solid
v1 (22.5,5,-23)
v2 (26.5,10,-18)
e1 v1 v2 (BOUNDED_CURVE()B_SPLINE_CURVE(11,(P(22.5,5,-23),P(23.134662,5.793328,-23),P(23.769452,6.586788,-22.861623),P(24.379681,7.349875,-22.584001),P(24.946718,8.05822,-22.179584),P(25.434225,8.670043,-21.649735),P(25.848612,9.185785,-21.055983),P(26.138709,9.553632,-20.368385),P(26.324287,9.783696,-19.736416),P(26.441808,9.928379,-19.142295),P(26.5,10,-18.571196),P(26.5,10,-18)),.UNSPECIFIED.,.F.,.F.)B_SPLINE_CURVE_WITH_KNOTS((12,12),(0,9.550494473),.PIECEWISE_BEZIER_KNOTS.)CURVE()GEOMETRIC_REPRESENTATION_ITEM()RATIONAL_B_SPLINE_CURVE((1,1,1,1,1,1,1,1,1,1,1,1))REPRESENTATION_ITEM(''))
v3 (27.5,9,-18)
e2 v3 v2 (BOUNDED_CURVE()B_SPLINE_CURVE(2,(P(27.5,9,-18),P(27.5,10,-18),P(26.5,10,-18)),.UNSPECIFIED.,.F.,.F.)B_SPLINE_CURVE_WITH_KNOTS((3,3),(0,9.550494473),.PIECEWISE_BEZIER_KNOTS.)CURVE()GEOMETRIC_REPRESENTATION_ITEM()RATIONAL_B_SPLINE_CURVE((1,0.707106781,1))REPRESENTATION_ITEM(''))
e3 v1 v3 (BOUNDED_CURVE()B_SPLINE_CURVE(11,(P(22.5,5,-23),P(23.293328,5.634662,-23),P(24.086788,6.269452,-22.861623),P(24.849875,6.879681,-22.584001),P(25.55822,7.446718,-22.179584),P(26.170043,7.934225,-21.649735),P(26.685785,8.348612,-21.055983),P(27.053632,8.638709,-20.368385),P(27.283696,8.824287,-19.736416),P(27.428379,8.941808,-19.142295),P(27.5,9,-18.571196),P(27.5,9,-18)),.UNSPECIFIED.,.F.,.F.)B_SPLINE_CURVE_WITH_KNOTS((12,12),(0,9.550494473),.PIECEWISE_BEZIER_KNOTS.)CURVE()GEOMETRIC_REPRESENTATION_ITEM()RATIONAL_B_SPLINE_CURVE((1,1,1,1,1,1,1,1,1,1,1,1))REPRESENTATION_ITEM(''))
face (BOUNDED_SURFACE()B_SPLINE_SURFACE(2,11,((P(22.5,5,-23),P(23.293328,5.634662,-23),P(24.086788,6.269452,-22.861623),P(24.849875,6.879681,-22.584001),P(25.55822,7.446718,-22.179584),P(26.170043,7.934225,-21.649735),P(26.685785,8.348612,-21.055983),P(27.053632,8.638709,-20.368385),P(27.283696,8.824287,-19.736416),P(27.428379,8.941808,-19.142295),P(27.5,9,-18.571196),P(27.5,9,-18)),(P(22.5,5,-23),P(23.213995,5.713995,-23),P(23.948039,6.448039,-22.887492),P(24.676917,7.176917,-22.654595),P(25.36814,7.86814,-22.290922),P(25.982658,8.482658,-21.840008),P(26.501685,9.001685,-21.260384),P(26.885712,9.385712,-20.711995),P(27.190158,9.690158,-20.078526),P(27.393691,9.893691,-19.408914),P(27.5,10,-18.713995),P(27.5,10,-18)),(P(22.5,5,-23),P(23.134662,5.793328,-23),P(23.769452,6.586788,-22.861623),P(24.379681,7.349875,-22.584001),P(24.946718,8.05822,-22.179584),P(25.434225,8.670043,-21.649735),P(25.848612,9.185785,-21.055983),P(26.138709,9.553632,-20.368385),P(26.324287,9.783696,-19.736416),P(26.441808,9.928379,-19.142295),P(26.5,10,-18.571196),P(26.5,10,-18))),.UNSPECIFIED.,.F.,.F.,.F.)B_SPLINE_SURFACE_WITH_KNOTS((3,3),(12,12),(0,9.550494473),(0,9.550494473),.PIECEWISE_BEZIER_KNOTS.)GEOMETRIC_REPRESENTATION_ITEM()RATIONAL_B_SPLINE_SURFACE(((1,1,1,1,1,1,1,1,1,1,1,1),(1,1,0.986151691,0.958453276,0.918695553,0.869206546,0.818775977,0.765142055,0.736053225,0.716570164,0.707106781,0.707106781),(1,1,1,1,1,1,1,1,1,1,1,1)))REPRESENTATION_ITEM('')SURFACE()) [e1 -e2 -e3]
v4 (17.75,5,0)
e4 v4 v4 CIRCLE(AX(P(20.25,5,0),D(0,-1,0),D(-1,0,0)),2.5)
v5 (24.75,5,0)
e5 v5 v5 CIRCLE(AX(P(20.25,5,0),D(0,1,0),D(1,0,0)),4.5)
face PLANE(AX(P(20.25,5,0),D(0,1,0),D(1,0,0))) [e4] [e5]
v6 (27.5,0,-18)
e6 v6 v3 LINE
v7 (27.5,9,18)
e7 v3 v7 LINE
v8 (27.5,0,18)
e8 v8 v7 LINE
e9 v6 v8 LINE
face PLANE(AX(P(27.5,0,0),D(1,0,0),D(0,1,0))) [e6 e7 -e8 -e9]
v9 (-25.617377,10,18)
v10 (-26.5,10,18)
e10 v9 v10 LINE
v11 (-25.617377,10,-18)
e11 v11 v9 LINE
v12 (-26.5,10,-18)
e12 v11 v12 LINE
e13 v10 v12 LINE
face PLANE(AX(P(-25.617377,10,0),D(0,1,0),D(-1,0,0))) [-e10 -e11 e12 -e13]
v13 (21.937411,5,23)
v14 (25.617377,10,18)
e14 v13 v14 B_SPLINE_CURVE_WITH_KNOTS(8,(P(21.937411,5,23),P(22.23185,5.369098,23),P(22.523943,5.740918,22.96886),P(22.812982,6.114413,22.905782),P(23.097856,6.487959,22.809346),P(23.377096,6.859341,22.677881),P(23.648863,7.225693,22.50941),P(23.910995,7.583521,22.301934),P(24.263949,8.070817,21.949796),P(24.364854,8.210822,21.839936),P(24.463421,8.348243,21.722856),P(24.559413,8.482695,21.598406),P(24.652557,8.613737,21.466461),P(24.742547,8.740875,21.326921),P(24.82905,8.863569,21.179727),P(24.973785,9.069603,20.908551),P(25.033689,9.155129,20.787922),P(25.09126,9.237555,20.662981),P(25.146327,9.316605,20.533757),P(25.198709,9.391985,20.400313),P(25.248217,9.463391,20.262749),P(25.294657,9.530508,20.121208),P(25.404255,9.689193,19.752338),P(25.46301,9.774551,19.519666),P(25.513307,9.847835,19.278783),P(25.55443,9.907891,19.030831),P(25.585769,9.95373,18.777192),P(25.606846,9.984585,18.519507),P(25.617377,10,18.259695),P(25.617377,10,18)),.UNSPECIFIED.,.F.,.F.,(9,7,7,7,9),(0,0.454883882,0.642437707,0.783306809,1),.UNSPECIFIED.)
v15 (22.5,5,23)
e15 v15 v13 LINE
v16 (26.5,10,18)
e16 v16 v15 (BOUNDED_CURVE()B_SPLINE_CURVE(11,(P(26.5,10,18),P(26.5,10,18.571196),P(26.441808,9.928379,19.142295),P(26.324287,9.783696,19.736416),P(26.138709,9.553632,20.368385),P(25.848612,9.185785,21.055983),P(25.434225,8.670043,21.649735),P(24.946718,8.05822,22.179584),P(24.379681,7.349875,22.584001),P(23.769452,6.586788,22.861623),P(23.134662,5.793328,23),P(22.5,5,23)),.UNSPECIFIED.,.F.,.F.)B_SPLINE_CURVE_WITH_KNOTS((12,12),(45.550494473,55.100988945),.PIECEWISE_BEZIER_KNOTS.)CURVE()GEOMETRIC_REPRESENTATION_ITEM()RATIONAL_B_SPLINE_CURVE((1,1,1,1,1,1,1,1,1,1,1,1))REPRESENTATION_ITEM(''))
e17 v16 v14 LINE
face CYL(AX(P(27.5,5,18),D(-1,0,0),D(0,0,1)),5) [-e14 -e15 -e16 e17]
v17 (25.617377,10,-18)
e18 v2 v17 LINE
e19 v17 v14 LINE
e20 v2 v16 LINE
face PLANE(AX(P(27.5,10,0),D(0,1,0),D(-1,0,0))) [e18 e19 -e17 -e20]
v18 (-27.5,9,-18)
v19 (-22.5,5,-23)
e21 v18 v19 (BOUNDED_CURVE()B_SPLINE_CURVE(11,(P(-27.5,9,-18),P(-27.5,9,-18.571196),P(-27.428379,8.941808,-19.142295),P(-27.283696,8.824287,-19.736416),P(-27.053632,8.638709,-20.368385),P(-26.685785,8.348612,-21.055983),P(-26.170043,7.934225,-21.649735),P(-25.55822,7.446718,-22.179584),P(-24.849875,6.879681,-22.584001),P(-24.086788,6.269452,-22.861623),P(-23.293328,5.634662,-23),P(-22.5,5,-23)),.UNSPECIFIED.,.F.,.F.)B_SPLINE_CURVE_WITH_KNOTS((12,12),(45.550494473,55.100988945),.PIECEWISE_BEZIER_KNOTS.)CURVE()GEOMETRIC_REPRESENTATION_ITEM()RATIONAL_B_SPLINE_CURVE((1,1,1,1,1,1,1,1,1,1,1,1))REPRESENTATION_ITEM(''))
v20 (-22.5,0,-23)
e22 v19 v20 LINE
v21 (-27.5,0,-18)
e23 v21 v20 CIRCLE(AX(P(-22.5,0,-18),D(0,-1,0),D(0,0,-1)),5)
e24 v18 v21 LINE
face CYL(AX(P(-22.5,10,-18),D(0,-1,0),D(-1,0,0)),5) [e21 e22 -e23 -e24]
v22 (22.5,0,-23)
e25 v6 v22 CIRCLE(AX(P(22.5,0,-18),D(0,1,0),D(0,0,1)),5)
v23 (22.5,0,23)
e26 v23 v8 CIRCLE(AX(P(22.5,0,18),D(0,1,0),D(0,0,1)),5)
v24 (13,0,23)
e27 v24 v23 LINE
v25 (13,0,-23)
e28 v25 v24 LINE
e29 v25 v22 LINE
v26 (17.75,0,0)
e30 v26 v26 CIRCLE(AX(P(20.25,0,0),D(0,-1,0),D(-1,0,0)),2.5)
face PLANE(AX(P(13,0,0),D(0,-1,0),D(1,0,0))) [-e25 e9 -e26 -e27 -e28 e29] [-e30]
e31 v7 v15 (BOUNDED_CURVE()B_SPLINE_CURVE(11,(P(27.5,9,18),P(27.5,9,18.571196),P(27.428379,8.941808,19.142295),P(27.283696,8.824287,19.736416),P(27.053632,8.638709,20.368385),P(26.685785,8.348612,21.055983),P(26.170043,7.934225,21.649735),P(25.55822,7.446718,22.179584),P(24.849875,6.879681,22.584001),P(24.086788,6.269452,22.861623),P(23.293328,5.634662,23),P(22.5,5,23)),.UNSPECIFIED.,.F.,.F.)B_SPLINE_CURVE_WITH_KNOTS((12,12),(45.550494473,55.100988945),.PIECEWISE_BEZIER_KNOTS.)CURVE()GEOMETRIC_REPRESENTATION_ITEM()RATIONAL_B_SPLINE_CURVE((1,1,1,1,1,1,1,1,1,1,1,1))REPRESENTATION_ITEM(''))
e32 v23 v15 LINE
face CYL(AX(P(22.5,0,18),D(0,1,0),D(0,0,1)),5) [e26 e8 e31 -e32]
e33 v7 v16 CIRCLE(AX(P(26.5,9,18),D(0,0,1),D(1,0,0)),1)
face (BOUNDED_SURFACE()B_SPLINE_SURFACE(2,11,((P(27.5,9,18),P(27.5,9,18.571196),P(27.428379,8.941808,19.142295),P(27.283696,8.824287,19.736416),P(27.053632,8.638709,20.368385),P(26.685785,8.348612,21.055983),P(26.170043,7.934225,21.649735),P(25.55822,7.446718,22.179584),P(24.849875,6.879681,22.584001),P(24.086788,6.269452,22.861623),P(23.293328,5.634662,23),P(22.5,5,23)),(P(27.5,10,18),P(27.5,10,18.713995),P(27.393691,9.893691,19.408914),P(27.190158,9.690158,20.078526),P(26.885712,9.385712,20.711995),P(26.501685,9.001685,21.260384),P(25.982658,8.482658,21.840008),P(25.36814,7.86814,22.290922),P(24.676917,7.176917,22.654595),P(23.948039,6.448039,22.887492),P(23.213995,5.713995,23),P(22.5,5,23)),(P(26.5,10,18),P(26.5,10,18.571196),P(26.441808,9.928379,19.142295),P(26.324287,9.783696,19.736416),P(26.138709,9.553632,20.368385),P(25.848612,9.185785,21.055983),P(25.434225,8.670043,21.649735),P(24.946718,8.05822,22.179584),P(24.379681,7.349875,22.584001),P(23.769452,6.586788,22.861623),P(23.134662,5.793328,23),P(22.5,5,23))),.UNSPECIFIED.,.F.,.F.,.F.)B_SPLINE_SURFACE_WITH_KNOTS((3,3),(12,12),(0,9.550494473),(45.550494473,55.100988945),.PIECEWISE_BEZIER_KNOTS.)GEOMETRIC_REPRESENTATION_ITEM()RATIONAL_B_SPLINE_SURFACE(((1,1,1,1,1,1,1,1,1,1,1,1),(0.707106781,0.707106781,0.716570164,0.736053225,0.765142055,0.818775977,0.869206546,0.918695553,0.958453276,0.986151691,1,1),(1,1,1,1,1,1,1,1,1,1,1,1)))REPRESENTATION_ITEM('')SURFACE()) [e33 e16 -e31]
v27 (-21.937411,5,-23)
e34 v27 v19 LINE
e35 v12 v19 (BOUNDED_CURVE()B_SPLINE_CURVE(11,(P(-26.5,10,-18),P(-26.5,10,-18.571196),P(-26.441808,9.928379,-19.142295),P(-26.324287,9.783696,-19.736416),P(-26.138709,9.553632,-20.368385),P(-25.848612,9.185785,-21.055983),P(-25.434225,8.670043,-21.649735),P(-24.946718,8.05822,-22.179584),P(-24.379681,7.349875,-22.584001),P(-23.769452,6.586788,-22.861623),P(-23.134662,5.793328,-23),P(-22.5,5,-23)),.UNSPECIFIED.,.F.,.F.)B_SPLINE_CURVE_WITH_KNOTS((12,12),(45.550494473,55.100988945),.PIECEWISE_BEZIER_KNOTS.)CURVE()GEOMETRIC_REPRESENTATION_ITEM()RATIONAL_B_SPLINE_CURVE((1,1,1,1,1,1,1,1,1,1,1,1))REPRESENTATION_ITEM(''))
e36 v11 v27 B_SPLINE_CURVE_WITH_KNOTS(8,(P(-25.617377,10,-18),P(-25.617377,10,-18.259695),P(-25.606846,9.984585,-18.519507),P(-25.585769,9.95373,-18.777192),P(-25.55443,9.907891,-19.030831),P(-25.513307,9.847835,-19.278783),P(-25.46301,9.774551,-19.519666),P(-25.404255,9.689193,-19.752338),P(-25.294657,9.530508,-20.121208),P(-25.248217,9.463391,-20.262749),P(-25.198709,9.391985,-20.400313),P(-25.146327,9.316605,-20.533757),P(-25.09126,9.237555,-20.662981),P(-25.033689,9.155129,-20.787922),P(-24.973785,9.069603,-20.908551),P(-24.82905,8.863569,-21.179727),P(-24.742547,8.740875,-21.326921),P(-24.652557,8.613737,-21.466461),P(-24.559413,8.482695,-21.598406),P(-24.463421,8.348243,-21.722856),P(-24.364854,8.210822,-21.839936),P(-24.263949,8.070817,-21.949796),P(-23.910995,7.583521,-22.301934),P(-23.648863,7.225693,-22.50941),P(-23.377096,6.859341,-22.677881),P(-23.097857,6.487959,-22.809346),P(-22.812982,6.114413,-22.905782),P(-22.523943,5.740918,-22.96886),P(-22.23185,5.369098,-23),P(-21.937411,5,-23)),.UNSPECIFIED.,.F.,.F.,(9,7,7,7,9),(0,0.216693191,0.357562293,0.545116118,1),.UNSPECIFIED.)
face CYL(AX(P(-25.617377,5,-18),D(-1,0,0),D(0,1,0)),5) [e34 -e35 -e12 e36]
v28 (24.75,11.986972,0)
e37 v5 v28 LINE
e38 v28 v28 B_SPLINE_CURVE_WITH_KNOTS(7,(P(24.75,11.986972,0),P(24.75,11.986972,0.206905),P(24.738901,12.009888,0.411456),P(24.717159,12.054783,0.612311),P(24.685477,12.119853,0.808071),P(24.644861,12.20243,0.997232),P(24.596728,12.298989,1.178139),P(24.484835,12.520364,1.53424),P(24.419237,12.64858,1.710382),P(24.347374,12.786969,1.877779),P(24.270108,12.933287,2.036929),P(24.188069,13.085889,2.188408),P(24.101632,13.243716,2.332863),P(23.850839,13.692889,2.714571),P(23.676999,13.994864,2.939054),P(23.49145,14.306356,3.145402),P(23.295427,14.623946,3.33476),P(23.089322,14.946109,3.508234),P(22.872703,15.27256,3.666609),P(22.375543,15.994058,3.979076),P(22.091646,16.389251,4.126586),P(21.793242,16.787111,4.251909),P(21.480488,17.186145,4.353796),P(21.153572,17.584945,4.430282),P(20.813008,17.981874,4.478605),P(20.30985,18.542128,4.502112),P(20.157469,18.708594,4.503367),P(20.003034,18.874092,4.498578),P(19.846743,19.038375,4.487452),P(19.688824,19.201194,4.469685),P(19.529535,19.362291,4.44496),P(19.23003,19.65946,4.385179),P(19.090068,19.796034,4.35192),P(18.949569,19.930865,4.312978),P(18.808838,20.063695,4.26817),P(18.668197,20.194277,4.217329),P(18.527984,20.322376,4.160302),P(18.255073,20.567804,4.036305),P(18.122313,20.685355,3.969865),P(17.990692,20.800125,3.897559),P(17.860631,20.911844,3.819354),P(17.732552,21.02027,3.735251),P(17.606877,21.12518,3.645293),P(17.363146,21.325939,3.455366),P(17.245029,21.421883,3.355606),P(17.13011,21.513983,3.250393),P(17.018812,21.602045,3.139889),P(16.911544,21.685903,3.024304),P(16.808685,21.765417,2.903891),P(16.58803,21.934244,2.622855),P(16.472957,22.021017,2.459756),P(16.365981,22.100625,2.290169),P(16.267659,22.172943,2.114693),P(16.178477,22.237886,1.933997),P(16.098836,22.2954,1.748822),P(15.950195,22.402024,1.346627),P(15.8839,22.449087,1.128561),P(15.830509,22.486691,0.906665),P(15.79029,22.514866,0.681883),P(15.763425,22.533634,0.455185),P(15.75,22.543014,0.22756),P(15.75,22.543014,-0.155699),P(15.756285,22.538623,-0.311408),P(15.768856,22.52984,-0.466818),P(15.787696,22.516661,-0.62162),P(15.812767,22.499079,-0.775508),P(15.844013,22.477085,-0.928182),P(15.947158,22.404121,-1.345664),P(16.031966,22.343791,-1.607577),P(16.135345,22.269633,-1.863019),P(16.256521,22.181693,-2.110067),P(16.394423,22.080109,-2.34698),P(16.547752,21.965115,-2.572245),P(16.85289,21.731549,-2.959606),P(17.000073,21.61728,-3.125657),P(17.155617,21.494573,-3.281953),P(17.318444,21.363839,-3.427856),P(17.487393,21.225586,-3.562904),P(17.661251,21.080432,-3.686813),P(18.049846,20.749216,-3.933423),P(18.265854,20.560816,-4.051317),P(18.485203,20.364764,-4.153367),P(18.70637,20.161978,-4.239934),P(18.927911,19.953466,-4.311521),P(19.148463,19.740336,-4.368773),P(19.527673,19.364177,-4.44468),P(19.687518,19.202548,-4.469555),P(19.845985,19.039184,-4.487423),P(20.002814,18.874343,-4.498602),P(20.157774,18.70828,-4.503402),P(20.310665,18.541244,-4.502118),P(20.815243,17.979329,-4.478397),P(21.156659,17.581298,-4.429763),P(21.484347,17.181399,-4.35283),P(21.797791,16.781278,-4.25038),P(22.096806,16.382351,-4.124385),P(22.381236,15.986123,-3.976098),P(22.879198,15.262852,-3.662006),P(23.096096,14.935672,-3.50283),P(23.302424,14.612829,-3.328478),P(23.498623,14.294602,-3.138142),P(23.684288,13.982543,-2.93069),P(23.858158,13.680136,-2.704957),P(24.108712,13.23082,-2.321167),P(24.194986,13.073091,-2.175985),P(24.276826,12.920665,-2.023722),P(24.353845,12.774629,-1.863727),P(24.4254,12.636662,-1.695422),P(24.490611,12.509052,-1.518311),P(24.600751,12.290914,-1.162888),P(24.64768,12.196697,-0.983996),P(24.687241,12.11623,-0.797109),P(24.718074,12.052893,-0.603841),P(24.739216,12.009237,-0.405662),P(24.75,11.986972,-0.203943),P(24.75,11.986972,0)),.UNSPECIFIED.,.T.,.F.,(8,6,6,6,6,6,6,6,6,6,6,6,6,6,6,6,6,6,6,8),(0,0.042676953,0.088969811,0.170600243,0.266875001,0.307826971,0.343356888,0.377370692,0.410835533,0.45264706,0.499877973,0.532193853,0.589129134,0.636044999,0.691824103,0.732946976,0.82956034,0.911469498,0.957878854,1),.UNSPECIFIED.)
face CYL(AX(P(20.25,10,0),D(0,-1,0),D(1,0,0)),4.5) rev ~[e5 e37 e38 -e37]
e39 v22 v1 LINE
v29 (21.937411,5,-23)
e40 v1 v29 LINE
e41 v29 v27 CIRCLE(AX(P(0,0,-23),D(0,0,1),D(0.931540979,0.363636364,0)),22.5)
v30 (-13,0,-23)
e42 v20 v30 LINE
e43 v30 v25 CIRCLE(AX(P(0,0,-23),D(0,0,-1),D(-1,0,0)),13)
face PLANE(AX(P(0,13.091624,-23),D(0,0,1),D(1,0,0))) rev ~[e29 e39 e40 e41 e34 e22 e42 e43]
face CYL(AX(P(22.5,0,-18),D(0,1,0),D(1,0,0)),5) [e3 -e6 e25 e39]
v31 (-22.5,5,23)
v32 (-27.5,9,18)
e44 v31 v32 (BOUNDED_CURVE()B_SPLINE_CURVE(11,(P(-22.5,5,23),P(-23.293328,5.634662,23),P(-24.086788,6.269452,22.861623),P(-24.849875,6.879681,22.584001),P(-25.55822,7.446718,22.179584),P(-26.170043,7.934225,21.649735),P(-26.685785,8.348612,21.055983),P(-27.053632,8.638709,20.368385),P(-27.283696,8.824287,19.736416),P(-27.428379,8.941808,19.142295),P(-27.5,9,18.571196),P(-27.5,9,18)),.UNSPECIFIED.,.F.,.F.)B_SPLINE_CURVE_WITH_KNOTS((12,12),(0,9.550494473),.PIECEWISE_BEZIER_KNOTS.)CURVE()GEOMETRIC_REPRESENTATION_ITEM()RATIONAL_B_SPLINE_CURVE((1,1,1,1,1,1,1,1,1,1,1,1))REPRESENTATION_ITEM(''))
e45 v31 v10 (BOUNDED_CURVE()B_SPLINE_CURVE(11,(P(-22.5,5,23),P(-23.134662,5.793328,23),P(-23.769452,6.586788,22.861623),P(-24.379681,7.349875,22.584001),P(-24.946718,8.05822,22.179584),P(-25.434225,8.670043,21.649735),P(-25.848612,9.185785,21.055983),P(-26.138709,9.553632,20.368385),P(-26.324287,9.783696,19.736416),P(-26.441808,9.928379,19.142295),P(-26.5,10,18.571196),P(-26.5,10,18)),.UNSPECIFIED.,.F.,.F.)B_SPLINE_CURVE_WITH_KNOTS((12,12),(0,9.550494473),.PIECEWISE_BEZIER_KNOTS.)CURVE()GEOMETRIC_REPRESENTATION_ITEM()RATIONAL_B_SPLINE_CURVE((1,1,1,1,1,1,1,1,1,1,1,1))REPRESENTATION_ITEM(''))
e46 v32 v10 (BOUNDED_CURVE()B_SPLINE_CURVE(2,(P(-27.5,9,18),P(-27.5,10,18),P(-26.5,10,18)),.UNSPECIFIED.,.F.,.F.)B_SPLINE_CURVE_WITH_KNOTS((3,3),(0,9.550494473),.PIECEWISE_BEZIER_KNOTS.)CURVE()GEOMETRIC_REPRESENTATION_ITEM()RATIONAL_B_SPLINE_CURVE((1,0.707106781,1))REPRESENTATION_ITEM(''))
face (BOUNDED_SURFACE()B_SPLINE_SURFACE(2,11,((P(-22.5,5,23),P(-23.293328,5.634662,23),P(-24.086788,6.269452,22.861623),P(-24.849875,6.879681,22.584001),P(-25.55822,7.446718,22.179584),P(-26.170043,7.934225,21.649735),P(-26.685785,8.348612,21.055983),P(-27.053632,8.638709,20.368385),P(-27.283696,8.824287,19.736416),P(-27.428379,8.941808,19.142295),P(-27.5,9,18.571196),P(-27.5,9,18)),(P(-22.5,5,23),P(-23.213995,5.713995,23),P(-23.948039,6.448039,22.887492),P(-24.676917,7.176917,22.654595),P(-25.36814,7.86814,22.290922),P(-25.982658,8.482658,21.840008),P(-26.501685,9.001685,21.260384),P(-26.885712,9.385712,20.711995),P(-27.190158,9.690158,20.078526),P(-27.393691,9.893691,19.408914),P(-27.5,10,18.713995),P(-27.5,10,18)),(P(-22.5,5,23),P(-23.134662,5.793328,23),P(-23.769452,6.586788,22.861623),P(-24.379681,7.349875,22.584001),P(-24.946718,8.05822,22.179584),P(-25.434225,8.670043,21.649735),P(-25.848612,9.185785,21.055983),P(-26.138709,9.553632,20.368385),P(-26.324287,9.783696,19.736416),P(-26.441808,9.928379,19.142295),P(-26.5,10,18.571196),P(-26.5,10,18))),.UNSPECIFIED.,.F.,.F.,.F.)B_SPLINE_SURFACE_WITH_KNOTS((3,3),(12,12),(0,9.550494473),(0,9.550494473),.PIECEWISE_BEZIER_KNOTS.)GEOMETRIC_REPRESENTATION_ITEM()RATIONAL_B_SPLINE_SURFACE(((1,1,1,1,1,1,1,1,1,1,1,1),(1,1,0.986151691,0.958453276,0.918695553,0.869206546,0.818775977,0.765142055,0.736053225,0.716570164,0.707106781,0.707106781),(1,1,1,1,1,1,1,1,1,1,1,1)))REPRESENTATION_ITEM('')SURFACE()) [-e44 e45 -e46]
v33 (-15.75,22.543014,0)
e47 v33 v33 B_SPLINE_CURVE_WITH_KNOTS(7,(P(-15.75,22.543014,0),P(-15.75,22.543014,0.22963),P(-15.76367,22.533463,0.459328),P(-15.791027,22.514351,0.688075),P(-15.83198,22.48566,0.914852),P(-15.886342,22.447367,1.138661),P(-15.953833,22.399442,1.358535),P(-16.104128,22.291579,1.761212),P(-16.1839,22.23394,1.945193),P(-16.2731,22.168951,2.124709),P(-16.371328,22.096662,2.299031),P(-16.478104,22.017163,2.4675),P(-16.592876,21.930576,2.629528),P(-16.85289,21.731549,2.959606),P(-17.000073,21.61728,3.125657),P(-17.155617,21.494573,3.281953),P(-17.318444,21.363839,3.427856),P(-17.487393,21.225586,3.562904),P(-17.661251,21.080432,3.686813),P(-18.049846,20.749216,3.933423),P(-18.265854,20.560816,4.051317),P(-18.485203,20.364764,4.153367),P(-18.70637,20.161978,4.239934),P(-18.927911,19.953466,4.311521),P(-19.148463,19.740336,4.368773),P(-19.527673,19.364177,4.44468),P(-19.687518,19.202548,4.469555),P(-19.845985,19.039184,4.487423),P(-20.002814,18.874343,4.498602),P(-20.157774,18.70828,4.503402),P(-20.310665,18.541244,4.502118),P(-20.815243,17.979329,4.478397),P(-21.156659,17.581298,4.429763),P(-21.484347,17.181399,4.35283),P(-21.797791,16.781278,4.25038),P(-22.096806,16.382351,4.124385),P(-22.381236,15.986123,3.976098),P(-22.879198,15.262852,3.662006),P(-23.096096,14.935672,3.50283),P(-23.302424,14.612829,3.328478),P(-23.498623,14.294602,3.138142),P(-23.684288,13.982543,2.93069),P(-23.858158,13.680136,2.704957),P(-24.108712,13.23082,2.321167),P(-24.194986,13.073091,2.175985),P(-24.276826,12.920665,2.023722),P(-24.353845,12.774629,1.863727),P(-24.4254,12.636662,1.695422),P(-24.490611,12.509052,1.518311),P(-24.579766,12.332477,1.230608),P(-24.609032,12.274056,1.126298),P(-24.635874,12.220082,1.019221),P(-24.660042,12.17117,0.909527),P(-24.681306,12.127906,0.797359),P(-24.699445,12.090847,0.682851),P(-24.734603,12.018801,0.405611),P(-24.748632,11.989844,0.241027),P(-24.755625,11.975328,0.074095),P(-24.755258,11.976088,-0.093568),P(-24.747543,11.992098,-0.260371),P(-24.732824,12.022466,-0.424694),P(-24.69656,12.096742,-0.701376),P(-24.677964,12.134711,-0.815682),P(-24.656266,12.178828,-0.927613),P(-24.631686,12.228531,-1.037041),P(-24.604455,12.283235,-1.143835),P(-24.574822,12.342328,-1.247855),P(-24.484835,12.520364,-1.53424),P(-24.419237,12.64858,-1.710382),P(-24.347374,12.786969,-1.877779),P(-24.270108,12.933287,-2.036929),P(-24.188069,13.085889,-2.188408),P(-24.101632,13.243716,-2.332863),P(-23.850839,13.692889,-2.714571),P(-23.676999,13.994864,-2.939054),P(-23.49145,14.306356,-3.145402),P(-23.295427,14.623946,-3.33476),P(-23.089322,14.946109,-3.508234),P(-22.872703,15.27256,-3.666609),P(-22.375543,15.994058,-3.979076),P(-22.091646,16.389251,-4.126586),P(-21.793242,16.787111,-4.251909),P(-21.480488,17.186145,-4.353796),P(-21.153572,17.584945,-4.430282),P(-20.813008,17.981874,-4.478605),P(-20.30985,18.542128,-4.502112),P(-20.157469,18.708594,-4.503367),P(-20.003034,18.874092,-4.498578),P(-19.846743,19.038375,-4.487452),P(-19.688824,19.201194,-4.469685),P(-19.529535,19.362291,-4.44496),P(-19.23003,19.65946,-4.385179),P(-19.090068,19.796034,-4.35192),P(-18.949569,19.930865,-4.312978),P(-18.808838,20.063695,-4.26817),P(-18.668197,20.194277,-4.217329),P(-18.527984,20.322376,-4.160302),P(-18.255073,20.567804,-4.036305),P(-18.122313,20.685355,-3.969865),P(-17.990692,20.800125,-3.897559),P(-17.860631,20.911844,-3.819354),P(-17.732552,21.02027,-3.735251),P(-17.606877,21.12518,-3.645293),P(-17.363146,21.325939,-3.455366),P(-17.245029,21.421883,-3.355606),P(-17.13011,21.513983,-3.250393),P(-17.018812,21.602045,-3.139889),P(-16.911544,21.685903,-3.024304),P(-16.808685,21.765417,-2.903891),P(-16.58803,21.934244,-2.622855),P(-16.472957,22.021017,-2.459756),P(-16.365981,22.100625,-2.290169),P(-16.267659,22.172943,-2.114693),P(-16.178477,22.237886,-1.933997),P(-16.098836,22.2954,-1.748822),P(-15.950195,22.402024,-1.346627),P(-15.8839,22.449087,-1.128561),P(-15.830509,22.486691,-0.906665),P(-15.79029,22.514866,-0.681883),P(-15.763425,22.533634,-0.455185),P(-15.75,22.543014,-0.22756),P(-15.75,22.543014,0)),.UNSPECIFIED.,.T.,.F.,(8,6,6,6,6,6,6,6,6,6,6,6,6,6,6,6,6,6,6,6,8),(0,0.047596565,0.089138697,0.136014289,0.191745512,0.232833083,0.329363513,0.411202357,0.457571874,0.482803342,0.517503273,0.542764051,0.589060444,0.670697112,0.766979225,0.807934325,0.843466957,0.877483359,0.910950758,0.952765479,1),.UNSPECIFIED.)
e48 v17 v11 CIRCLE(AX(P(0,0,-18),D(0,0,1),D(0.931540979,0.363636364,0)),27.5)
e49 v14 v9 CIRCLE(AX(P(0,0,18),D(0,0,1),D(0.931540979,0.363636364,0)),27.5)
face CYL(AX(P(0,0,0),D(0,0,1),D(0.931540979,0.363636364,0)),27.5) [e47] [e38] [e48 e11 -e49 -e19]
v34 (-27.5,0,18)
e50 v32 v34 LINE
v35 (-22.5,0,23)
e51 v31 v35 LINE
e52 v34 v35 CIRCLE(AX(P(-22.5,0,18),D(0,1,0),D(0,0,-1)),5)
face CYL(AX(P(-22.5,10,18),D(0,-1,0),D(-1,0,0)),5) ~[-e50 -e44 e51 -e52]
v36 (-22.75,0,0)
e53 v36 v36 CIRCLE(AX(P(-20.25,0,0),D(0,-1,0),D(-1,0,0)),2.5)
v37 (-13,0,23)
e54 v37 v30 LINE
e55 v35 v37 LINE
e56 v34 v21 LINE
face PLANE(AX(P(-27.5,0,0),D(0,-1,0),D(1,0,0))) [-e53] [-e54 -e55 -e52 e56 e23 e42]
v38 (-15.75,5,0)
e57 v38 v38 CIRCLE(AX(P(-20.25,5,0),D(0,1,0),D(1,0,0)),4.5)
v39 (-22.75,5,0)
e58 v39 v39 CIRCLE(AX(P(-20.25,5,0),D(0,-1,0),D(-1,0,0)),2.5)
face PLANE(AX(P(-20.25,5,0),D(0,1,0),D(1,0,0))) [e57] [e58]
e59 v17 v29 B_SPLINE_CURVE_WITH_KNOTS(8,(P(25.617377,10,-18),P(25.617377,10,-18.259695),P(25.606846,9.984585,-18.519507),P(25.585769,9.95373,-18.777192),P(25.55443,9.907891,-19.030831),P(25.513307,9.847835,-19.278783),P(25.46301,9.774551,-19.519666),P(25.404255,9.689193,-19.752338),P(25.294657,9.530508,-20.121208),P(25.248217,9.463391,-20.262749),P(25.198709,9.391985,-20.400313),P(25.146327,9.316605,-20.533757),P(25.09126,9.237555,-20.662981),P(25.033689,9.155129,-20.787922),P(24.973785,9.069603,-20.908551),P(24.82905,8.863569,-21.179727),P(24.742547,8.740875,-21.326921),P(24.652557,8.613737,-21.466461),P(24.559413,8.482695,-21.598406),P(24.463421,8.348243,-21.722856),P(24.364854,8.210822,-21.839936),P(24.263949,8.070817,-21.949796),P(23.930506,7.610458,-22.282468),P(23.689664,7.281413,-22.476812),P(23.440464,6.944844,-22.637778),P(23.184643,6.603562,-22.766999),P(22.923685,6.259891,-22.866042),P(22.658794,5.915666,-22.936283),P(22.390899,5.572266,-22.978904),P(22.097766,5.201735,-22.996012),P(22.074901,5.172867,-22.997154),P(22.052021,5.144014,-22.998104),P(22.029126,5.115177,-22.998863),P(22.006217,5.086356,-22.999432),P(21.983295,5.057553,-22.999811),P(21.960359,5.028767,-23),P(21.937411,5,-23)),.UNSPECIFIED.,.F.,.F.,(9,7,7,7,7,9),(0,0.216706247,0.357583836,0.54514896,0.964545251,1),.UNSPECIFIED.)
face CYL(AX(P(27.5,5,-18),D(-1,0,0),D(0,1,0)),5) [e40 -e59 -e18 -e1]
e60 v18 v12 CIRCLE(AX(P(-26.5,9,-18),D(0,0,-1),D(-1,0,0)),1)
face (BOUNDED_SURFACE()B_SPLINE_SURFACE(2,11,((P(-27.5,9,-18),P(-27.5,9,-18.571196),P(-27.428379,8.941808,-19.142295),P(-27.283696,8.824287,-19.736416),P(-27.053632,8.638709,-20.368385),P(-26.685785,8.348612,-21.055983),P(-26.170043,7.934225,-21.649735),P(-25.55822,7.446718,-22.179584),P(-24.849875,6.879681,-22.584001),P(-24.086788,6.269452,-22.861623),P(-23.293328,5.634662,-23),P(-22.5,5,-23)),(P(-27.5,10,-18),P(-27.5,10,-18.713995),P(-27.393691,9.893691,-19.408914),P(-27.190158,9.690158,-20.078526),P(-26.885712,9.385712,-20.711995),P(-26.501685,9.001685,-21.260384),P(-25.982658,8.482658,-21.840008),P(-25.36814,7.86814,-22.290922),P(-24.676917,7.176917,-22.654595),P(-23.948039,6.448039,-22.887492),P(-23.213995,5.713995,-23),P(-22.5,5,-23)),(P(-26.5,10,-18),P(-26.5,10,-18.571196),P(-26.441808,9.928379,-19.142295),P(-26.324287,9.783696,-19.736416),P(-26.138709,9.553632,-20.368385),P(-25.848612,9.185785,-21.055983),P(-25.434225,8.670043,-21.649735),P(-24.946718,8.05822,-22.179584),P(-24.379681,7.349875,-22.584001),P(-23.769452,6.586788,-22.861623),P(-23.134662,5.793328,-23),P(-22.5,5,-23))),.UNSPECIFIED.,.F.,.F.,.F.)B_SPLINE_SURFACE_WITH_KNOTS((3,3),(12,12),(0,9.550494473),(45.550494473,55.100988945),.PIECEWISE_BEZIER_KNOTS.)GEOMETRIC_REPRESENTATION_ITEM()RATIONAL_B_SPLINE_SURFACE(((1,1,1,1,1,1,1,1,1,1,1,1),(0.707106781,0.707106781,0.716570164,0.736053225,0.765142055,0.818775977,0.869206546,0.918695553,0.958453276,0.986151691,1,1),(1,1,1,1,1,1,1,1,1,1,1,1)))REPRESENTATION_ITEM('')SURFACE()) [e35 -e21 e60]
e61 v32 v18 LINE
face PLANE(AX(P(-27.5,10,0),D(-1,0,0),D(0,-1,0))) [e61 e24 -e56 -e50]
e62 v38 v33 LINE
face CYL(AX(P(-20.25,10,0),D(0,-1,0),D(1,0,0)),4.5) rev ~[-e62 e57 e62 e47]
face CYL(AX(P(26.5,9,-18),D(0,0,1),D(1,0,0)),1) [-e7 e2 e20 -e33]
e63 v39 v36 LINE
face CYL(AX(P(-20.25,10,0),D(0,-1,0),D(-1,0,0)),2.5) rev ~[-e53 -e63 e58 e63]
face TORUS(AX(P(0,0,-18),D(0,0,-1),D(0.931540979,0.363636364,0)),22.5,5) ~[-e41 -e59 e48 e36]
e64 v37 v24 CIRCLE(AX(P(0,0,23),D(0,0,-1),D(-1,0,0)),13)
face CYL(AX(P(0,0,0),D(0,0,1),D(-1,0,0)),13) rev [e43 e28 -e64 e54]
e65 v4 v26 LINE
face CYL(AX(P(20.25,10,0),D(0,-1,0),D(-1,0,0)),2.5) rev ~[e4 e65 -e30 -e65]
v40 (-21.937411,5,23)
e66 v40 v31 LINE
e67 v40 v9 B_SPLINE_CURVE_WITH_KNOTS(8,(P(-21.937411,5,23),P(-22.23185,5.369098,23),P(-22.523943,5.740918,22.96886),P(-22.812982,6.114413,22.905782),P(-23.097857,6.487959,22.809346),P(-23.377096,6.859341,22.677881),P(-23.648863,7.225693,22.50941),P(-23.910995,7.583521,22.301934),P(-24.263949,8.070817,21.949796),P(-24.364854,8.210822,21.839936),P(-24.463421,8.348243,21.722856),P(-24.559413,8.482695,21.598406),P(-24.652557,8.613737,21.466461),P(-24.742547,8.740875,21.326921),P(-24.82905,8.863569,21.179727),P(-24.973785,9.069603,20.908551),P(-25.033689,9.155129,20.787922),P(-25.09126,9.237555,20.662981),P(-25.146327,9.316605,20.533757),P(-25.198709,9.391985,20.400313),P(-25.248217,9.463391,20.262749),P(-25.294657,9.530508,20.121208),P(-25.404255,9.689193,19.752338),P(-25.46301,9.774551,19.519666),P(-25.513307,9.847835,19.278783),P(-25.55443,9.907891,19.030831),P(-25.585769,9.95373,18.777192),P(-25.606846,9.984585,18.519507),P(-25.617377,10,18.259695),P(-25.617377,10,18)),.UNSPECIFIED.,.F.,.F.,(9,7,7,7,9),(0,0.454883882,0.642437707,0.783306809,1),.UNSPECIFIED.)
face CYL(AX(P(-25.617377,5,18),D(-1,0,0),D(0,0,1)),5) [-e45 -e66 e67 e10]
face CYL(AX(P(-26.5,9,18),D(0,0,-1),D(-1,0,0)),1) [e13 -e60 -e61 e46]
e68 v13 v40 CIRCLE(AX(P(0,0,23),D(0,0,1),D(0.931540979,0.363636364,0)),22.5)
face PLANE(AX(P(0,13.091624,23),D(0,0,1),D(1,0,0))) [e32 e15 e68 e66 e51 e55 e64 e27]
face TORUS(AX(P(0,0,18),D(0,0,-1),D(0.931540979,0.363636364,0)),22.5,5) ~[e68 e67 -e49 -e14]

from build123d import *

# Parameters (mm, degrees)
F1_DEPTH       = 23
F4_D           = 9
F4_DEPTH       = 15
F4_TIP         = 2.7038727856
F5_D           = 5
F5_DEPTH       = 15
F5_CBORE_D     = 9
F5_CBORE_DEPTH = 5
F5_TIP         = 1.5021515476
F6_R           = 5
F7_R           = 5
F8_R           = 1
F9_R           = 1


with BuildPart() as f1:
    # F0 (on Top) → F1 (new body, symmetric)
    with BuildSketch(Plane.XY):
        with BuildLine():
            Line((-13, 10), (-13, 0))
            ThreePointArc((-13, 0), (0, 13), (13, 0))
            Line((13, 0), (13, 10))
            Line((13, 10), (25.6173769149, 10))
            ThreePointArc((25.6173769149, 10), (0, 27.5), (-25.6173769149, 10))
            Line((-25.6173769149, 10), (-13, 10))
        make_face()
        with BuildLine():
            Line((-27.5, 0), (-13, 0))
            Line((-13, 0), (-13, 10))
            Line((-13, 10), (-25.6173769149, 10))
            ThreePointArc((-25.6173769149, 10), (-27.0252462076, 5.0878352391), (-27.5, 0))
        make_face()
        with BuildLine():
            Line((13, 10), (13, 0))
            Line((13, 0), (27.5, 0))
            ThreePointArc((27.5, 0), (27.0252462076, 5.0878352391), (25.6173769149, 10))
            Line((25.6173769149, 10), (13, 10))
        make_face()
        with BuildLine():
            Line((-27.5, 10), (-27.5, 0))
            ThreePointArc((-27.5, 0), (-27.0252462076, 5.0878352391), (-25.6173769149, 10))
            Line((-25.6173769149, 10), (-27.5, 10))
        make_face()
        with BuildLine():
            ThreePointArc((25.6173769149, 10), (27.0252462076, 5.0878352391), (27.5, 0))
            Line((27.5, 0), (27.5, 10))
            Line((27.5, 10), (25.6173769149, 10))
        make_face()
    extrude(amount=F1_DEPTH, both=True)

    # F4 (one way)
    with BuildSketch(Plane.XZ.offset(-10)):
        with Locations((20.25, 0), (-20.25, 0)):
            Circle(F4_D / 2)
    extrude(amount=-F4_DEPTH, mode=Mode.SUBTRACT)
    with Locations(Plane.XZ.offset(-10)):
        with Locations((20.25, 0), (-20.25, 0)):
            with Locations((0, 0, -(F4_DEPTH + F4_TIP / 2))):  # 118° drill point
                Cone(0, F4_D / 2, F4_TIP, mode=Mode.SUBTRACT)

    # F5
    with Locations(Plane(origin=(0, 10, 0), x_dir=(1, 0, 0), z_dir=(0, 1, 0))):
        with Locations((-20.25, 0), (20.25, 0)):
            CounterBoreHole(F5_D / 2, F5_CBORE_D / 2, F5_CBORE_DEPTH, depth=F5_DEPTH)
            with Locations((0, 0, -(F5_DEPTH + F5_TIP / 2))):  # 118° drill point
                Cone(0, F5_D / 2, F5_TIP, mode=Mode.SUBTRACT)

    # F6
    f6_edges = [f1.edges().sort_by_distance(p)[0] for p in [
        (27.5, 5, -23),
        (-27.5, 5, -23),
        (-26.558688, 10, -23),
        (0, 27.5, -23),
        (26.558688, 10, -23),
    ]]
    fillet(f6_edges, radius=F6_R)

    # F7
    f7_edges = [f1.edges().sort_by_distance(p)[0] for p in [
        (0, 27.5, 23),
        (26.558688, 10, 23),
        (-26.558688, 10, 23),
        (-27.5, 5, 23),
        (27.5, 5, 23),
    ]]
    fillet(f7_edges, radius=F7_R)

    # F8
    f8_edges = [f1.edges().sort_by_distance(p)[0] for p in [
        (27.5, 10, 0),
    ]]
    fillet(f8_edges, radius=F8_R)

    # F9
    f9_edges = [f1.edges().sort_by_distance(p)[0] for p in [
        (-27.5, 10, 0),
    ]]
    fillet(f9_edges, radius=F9_R)


solid = f1.part
